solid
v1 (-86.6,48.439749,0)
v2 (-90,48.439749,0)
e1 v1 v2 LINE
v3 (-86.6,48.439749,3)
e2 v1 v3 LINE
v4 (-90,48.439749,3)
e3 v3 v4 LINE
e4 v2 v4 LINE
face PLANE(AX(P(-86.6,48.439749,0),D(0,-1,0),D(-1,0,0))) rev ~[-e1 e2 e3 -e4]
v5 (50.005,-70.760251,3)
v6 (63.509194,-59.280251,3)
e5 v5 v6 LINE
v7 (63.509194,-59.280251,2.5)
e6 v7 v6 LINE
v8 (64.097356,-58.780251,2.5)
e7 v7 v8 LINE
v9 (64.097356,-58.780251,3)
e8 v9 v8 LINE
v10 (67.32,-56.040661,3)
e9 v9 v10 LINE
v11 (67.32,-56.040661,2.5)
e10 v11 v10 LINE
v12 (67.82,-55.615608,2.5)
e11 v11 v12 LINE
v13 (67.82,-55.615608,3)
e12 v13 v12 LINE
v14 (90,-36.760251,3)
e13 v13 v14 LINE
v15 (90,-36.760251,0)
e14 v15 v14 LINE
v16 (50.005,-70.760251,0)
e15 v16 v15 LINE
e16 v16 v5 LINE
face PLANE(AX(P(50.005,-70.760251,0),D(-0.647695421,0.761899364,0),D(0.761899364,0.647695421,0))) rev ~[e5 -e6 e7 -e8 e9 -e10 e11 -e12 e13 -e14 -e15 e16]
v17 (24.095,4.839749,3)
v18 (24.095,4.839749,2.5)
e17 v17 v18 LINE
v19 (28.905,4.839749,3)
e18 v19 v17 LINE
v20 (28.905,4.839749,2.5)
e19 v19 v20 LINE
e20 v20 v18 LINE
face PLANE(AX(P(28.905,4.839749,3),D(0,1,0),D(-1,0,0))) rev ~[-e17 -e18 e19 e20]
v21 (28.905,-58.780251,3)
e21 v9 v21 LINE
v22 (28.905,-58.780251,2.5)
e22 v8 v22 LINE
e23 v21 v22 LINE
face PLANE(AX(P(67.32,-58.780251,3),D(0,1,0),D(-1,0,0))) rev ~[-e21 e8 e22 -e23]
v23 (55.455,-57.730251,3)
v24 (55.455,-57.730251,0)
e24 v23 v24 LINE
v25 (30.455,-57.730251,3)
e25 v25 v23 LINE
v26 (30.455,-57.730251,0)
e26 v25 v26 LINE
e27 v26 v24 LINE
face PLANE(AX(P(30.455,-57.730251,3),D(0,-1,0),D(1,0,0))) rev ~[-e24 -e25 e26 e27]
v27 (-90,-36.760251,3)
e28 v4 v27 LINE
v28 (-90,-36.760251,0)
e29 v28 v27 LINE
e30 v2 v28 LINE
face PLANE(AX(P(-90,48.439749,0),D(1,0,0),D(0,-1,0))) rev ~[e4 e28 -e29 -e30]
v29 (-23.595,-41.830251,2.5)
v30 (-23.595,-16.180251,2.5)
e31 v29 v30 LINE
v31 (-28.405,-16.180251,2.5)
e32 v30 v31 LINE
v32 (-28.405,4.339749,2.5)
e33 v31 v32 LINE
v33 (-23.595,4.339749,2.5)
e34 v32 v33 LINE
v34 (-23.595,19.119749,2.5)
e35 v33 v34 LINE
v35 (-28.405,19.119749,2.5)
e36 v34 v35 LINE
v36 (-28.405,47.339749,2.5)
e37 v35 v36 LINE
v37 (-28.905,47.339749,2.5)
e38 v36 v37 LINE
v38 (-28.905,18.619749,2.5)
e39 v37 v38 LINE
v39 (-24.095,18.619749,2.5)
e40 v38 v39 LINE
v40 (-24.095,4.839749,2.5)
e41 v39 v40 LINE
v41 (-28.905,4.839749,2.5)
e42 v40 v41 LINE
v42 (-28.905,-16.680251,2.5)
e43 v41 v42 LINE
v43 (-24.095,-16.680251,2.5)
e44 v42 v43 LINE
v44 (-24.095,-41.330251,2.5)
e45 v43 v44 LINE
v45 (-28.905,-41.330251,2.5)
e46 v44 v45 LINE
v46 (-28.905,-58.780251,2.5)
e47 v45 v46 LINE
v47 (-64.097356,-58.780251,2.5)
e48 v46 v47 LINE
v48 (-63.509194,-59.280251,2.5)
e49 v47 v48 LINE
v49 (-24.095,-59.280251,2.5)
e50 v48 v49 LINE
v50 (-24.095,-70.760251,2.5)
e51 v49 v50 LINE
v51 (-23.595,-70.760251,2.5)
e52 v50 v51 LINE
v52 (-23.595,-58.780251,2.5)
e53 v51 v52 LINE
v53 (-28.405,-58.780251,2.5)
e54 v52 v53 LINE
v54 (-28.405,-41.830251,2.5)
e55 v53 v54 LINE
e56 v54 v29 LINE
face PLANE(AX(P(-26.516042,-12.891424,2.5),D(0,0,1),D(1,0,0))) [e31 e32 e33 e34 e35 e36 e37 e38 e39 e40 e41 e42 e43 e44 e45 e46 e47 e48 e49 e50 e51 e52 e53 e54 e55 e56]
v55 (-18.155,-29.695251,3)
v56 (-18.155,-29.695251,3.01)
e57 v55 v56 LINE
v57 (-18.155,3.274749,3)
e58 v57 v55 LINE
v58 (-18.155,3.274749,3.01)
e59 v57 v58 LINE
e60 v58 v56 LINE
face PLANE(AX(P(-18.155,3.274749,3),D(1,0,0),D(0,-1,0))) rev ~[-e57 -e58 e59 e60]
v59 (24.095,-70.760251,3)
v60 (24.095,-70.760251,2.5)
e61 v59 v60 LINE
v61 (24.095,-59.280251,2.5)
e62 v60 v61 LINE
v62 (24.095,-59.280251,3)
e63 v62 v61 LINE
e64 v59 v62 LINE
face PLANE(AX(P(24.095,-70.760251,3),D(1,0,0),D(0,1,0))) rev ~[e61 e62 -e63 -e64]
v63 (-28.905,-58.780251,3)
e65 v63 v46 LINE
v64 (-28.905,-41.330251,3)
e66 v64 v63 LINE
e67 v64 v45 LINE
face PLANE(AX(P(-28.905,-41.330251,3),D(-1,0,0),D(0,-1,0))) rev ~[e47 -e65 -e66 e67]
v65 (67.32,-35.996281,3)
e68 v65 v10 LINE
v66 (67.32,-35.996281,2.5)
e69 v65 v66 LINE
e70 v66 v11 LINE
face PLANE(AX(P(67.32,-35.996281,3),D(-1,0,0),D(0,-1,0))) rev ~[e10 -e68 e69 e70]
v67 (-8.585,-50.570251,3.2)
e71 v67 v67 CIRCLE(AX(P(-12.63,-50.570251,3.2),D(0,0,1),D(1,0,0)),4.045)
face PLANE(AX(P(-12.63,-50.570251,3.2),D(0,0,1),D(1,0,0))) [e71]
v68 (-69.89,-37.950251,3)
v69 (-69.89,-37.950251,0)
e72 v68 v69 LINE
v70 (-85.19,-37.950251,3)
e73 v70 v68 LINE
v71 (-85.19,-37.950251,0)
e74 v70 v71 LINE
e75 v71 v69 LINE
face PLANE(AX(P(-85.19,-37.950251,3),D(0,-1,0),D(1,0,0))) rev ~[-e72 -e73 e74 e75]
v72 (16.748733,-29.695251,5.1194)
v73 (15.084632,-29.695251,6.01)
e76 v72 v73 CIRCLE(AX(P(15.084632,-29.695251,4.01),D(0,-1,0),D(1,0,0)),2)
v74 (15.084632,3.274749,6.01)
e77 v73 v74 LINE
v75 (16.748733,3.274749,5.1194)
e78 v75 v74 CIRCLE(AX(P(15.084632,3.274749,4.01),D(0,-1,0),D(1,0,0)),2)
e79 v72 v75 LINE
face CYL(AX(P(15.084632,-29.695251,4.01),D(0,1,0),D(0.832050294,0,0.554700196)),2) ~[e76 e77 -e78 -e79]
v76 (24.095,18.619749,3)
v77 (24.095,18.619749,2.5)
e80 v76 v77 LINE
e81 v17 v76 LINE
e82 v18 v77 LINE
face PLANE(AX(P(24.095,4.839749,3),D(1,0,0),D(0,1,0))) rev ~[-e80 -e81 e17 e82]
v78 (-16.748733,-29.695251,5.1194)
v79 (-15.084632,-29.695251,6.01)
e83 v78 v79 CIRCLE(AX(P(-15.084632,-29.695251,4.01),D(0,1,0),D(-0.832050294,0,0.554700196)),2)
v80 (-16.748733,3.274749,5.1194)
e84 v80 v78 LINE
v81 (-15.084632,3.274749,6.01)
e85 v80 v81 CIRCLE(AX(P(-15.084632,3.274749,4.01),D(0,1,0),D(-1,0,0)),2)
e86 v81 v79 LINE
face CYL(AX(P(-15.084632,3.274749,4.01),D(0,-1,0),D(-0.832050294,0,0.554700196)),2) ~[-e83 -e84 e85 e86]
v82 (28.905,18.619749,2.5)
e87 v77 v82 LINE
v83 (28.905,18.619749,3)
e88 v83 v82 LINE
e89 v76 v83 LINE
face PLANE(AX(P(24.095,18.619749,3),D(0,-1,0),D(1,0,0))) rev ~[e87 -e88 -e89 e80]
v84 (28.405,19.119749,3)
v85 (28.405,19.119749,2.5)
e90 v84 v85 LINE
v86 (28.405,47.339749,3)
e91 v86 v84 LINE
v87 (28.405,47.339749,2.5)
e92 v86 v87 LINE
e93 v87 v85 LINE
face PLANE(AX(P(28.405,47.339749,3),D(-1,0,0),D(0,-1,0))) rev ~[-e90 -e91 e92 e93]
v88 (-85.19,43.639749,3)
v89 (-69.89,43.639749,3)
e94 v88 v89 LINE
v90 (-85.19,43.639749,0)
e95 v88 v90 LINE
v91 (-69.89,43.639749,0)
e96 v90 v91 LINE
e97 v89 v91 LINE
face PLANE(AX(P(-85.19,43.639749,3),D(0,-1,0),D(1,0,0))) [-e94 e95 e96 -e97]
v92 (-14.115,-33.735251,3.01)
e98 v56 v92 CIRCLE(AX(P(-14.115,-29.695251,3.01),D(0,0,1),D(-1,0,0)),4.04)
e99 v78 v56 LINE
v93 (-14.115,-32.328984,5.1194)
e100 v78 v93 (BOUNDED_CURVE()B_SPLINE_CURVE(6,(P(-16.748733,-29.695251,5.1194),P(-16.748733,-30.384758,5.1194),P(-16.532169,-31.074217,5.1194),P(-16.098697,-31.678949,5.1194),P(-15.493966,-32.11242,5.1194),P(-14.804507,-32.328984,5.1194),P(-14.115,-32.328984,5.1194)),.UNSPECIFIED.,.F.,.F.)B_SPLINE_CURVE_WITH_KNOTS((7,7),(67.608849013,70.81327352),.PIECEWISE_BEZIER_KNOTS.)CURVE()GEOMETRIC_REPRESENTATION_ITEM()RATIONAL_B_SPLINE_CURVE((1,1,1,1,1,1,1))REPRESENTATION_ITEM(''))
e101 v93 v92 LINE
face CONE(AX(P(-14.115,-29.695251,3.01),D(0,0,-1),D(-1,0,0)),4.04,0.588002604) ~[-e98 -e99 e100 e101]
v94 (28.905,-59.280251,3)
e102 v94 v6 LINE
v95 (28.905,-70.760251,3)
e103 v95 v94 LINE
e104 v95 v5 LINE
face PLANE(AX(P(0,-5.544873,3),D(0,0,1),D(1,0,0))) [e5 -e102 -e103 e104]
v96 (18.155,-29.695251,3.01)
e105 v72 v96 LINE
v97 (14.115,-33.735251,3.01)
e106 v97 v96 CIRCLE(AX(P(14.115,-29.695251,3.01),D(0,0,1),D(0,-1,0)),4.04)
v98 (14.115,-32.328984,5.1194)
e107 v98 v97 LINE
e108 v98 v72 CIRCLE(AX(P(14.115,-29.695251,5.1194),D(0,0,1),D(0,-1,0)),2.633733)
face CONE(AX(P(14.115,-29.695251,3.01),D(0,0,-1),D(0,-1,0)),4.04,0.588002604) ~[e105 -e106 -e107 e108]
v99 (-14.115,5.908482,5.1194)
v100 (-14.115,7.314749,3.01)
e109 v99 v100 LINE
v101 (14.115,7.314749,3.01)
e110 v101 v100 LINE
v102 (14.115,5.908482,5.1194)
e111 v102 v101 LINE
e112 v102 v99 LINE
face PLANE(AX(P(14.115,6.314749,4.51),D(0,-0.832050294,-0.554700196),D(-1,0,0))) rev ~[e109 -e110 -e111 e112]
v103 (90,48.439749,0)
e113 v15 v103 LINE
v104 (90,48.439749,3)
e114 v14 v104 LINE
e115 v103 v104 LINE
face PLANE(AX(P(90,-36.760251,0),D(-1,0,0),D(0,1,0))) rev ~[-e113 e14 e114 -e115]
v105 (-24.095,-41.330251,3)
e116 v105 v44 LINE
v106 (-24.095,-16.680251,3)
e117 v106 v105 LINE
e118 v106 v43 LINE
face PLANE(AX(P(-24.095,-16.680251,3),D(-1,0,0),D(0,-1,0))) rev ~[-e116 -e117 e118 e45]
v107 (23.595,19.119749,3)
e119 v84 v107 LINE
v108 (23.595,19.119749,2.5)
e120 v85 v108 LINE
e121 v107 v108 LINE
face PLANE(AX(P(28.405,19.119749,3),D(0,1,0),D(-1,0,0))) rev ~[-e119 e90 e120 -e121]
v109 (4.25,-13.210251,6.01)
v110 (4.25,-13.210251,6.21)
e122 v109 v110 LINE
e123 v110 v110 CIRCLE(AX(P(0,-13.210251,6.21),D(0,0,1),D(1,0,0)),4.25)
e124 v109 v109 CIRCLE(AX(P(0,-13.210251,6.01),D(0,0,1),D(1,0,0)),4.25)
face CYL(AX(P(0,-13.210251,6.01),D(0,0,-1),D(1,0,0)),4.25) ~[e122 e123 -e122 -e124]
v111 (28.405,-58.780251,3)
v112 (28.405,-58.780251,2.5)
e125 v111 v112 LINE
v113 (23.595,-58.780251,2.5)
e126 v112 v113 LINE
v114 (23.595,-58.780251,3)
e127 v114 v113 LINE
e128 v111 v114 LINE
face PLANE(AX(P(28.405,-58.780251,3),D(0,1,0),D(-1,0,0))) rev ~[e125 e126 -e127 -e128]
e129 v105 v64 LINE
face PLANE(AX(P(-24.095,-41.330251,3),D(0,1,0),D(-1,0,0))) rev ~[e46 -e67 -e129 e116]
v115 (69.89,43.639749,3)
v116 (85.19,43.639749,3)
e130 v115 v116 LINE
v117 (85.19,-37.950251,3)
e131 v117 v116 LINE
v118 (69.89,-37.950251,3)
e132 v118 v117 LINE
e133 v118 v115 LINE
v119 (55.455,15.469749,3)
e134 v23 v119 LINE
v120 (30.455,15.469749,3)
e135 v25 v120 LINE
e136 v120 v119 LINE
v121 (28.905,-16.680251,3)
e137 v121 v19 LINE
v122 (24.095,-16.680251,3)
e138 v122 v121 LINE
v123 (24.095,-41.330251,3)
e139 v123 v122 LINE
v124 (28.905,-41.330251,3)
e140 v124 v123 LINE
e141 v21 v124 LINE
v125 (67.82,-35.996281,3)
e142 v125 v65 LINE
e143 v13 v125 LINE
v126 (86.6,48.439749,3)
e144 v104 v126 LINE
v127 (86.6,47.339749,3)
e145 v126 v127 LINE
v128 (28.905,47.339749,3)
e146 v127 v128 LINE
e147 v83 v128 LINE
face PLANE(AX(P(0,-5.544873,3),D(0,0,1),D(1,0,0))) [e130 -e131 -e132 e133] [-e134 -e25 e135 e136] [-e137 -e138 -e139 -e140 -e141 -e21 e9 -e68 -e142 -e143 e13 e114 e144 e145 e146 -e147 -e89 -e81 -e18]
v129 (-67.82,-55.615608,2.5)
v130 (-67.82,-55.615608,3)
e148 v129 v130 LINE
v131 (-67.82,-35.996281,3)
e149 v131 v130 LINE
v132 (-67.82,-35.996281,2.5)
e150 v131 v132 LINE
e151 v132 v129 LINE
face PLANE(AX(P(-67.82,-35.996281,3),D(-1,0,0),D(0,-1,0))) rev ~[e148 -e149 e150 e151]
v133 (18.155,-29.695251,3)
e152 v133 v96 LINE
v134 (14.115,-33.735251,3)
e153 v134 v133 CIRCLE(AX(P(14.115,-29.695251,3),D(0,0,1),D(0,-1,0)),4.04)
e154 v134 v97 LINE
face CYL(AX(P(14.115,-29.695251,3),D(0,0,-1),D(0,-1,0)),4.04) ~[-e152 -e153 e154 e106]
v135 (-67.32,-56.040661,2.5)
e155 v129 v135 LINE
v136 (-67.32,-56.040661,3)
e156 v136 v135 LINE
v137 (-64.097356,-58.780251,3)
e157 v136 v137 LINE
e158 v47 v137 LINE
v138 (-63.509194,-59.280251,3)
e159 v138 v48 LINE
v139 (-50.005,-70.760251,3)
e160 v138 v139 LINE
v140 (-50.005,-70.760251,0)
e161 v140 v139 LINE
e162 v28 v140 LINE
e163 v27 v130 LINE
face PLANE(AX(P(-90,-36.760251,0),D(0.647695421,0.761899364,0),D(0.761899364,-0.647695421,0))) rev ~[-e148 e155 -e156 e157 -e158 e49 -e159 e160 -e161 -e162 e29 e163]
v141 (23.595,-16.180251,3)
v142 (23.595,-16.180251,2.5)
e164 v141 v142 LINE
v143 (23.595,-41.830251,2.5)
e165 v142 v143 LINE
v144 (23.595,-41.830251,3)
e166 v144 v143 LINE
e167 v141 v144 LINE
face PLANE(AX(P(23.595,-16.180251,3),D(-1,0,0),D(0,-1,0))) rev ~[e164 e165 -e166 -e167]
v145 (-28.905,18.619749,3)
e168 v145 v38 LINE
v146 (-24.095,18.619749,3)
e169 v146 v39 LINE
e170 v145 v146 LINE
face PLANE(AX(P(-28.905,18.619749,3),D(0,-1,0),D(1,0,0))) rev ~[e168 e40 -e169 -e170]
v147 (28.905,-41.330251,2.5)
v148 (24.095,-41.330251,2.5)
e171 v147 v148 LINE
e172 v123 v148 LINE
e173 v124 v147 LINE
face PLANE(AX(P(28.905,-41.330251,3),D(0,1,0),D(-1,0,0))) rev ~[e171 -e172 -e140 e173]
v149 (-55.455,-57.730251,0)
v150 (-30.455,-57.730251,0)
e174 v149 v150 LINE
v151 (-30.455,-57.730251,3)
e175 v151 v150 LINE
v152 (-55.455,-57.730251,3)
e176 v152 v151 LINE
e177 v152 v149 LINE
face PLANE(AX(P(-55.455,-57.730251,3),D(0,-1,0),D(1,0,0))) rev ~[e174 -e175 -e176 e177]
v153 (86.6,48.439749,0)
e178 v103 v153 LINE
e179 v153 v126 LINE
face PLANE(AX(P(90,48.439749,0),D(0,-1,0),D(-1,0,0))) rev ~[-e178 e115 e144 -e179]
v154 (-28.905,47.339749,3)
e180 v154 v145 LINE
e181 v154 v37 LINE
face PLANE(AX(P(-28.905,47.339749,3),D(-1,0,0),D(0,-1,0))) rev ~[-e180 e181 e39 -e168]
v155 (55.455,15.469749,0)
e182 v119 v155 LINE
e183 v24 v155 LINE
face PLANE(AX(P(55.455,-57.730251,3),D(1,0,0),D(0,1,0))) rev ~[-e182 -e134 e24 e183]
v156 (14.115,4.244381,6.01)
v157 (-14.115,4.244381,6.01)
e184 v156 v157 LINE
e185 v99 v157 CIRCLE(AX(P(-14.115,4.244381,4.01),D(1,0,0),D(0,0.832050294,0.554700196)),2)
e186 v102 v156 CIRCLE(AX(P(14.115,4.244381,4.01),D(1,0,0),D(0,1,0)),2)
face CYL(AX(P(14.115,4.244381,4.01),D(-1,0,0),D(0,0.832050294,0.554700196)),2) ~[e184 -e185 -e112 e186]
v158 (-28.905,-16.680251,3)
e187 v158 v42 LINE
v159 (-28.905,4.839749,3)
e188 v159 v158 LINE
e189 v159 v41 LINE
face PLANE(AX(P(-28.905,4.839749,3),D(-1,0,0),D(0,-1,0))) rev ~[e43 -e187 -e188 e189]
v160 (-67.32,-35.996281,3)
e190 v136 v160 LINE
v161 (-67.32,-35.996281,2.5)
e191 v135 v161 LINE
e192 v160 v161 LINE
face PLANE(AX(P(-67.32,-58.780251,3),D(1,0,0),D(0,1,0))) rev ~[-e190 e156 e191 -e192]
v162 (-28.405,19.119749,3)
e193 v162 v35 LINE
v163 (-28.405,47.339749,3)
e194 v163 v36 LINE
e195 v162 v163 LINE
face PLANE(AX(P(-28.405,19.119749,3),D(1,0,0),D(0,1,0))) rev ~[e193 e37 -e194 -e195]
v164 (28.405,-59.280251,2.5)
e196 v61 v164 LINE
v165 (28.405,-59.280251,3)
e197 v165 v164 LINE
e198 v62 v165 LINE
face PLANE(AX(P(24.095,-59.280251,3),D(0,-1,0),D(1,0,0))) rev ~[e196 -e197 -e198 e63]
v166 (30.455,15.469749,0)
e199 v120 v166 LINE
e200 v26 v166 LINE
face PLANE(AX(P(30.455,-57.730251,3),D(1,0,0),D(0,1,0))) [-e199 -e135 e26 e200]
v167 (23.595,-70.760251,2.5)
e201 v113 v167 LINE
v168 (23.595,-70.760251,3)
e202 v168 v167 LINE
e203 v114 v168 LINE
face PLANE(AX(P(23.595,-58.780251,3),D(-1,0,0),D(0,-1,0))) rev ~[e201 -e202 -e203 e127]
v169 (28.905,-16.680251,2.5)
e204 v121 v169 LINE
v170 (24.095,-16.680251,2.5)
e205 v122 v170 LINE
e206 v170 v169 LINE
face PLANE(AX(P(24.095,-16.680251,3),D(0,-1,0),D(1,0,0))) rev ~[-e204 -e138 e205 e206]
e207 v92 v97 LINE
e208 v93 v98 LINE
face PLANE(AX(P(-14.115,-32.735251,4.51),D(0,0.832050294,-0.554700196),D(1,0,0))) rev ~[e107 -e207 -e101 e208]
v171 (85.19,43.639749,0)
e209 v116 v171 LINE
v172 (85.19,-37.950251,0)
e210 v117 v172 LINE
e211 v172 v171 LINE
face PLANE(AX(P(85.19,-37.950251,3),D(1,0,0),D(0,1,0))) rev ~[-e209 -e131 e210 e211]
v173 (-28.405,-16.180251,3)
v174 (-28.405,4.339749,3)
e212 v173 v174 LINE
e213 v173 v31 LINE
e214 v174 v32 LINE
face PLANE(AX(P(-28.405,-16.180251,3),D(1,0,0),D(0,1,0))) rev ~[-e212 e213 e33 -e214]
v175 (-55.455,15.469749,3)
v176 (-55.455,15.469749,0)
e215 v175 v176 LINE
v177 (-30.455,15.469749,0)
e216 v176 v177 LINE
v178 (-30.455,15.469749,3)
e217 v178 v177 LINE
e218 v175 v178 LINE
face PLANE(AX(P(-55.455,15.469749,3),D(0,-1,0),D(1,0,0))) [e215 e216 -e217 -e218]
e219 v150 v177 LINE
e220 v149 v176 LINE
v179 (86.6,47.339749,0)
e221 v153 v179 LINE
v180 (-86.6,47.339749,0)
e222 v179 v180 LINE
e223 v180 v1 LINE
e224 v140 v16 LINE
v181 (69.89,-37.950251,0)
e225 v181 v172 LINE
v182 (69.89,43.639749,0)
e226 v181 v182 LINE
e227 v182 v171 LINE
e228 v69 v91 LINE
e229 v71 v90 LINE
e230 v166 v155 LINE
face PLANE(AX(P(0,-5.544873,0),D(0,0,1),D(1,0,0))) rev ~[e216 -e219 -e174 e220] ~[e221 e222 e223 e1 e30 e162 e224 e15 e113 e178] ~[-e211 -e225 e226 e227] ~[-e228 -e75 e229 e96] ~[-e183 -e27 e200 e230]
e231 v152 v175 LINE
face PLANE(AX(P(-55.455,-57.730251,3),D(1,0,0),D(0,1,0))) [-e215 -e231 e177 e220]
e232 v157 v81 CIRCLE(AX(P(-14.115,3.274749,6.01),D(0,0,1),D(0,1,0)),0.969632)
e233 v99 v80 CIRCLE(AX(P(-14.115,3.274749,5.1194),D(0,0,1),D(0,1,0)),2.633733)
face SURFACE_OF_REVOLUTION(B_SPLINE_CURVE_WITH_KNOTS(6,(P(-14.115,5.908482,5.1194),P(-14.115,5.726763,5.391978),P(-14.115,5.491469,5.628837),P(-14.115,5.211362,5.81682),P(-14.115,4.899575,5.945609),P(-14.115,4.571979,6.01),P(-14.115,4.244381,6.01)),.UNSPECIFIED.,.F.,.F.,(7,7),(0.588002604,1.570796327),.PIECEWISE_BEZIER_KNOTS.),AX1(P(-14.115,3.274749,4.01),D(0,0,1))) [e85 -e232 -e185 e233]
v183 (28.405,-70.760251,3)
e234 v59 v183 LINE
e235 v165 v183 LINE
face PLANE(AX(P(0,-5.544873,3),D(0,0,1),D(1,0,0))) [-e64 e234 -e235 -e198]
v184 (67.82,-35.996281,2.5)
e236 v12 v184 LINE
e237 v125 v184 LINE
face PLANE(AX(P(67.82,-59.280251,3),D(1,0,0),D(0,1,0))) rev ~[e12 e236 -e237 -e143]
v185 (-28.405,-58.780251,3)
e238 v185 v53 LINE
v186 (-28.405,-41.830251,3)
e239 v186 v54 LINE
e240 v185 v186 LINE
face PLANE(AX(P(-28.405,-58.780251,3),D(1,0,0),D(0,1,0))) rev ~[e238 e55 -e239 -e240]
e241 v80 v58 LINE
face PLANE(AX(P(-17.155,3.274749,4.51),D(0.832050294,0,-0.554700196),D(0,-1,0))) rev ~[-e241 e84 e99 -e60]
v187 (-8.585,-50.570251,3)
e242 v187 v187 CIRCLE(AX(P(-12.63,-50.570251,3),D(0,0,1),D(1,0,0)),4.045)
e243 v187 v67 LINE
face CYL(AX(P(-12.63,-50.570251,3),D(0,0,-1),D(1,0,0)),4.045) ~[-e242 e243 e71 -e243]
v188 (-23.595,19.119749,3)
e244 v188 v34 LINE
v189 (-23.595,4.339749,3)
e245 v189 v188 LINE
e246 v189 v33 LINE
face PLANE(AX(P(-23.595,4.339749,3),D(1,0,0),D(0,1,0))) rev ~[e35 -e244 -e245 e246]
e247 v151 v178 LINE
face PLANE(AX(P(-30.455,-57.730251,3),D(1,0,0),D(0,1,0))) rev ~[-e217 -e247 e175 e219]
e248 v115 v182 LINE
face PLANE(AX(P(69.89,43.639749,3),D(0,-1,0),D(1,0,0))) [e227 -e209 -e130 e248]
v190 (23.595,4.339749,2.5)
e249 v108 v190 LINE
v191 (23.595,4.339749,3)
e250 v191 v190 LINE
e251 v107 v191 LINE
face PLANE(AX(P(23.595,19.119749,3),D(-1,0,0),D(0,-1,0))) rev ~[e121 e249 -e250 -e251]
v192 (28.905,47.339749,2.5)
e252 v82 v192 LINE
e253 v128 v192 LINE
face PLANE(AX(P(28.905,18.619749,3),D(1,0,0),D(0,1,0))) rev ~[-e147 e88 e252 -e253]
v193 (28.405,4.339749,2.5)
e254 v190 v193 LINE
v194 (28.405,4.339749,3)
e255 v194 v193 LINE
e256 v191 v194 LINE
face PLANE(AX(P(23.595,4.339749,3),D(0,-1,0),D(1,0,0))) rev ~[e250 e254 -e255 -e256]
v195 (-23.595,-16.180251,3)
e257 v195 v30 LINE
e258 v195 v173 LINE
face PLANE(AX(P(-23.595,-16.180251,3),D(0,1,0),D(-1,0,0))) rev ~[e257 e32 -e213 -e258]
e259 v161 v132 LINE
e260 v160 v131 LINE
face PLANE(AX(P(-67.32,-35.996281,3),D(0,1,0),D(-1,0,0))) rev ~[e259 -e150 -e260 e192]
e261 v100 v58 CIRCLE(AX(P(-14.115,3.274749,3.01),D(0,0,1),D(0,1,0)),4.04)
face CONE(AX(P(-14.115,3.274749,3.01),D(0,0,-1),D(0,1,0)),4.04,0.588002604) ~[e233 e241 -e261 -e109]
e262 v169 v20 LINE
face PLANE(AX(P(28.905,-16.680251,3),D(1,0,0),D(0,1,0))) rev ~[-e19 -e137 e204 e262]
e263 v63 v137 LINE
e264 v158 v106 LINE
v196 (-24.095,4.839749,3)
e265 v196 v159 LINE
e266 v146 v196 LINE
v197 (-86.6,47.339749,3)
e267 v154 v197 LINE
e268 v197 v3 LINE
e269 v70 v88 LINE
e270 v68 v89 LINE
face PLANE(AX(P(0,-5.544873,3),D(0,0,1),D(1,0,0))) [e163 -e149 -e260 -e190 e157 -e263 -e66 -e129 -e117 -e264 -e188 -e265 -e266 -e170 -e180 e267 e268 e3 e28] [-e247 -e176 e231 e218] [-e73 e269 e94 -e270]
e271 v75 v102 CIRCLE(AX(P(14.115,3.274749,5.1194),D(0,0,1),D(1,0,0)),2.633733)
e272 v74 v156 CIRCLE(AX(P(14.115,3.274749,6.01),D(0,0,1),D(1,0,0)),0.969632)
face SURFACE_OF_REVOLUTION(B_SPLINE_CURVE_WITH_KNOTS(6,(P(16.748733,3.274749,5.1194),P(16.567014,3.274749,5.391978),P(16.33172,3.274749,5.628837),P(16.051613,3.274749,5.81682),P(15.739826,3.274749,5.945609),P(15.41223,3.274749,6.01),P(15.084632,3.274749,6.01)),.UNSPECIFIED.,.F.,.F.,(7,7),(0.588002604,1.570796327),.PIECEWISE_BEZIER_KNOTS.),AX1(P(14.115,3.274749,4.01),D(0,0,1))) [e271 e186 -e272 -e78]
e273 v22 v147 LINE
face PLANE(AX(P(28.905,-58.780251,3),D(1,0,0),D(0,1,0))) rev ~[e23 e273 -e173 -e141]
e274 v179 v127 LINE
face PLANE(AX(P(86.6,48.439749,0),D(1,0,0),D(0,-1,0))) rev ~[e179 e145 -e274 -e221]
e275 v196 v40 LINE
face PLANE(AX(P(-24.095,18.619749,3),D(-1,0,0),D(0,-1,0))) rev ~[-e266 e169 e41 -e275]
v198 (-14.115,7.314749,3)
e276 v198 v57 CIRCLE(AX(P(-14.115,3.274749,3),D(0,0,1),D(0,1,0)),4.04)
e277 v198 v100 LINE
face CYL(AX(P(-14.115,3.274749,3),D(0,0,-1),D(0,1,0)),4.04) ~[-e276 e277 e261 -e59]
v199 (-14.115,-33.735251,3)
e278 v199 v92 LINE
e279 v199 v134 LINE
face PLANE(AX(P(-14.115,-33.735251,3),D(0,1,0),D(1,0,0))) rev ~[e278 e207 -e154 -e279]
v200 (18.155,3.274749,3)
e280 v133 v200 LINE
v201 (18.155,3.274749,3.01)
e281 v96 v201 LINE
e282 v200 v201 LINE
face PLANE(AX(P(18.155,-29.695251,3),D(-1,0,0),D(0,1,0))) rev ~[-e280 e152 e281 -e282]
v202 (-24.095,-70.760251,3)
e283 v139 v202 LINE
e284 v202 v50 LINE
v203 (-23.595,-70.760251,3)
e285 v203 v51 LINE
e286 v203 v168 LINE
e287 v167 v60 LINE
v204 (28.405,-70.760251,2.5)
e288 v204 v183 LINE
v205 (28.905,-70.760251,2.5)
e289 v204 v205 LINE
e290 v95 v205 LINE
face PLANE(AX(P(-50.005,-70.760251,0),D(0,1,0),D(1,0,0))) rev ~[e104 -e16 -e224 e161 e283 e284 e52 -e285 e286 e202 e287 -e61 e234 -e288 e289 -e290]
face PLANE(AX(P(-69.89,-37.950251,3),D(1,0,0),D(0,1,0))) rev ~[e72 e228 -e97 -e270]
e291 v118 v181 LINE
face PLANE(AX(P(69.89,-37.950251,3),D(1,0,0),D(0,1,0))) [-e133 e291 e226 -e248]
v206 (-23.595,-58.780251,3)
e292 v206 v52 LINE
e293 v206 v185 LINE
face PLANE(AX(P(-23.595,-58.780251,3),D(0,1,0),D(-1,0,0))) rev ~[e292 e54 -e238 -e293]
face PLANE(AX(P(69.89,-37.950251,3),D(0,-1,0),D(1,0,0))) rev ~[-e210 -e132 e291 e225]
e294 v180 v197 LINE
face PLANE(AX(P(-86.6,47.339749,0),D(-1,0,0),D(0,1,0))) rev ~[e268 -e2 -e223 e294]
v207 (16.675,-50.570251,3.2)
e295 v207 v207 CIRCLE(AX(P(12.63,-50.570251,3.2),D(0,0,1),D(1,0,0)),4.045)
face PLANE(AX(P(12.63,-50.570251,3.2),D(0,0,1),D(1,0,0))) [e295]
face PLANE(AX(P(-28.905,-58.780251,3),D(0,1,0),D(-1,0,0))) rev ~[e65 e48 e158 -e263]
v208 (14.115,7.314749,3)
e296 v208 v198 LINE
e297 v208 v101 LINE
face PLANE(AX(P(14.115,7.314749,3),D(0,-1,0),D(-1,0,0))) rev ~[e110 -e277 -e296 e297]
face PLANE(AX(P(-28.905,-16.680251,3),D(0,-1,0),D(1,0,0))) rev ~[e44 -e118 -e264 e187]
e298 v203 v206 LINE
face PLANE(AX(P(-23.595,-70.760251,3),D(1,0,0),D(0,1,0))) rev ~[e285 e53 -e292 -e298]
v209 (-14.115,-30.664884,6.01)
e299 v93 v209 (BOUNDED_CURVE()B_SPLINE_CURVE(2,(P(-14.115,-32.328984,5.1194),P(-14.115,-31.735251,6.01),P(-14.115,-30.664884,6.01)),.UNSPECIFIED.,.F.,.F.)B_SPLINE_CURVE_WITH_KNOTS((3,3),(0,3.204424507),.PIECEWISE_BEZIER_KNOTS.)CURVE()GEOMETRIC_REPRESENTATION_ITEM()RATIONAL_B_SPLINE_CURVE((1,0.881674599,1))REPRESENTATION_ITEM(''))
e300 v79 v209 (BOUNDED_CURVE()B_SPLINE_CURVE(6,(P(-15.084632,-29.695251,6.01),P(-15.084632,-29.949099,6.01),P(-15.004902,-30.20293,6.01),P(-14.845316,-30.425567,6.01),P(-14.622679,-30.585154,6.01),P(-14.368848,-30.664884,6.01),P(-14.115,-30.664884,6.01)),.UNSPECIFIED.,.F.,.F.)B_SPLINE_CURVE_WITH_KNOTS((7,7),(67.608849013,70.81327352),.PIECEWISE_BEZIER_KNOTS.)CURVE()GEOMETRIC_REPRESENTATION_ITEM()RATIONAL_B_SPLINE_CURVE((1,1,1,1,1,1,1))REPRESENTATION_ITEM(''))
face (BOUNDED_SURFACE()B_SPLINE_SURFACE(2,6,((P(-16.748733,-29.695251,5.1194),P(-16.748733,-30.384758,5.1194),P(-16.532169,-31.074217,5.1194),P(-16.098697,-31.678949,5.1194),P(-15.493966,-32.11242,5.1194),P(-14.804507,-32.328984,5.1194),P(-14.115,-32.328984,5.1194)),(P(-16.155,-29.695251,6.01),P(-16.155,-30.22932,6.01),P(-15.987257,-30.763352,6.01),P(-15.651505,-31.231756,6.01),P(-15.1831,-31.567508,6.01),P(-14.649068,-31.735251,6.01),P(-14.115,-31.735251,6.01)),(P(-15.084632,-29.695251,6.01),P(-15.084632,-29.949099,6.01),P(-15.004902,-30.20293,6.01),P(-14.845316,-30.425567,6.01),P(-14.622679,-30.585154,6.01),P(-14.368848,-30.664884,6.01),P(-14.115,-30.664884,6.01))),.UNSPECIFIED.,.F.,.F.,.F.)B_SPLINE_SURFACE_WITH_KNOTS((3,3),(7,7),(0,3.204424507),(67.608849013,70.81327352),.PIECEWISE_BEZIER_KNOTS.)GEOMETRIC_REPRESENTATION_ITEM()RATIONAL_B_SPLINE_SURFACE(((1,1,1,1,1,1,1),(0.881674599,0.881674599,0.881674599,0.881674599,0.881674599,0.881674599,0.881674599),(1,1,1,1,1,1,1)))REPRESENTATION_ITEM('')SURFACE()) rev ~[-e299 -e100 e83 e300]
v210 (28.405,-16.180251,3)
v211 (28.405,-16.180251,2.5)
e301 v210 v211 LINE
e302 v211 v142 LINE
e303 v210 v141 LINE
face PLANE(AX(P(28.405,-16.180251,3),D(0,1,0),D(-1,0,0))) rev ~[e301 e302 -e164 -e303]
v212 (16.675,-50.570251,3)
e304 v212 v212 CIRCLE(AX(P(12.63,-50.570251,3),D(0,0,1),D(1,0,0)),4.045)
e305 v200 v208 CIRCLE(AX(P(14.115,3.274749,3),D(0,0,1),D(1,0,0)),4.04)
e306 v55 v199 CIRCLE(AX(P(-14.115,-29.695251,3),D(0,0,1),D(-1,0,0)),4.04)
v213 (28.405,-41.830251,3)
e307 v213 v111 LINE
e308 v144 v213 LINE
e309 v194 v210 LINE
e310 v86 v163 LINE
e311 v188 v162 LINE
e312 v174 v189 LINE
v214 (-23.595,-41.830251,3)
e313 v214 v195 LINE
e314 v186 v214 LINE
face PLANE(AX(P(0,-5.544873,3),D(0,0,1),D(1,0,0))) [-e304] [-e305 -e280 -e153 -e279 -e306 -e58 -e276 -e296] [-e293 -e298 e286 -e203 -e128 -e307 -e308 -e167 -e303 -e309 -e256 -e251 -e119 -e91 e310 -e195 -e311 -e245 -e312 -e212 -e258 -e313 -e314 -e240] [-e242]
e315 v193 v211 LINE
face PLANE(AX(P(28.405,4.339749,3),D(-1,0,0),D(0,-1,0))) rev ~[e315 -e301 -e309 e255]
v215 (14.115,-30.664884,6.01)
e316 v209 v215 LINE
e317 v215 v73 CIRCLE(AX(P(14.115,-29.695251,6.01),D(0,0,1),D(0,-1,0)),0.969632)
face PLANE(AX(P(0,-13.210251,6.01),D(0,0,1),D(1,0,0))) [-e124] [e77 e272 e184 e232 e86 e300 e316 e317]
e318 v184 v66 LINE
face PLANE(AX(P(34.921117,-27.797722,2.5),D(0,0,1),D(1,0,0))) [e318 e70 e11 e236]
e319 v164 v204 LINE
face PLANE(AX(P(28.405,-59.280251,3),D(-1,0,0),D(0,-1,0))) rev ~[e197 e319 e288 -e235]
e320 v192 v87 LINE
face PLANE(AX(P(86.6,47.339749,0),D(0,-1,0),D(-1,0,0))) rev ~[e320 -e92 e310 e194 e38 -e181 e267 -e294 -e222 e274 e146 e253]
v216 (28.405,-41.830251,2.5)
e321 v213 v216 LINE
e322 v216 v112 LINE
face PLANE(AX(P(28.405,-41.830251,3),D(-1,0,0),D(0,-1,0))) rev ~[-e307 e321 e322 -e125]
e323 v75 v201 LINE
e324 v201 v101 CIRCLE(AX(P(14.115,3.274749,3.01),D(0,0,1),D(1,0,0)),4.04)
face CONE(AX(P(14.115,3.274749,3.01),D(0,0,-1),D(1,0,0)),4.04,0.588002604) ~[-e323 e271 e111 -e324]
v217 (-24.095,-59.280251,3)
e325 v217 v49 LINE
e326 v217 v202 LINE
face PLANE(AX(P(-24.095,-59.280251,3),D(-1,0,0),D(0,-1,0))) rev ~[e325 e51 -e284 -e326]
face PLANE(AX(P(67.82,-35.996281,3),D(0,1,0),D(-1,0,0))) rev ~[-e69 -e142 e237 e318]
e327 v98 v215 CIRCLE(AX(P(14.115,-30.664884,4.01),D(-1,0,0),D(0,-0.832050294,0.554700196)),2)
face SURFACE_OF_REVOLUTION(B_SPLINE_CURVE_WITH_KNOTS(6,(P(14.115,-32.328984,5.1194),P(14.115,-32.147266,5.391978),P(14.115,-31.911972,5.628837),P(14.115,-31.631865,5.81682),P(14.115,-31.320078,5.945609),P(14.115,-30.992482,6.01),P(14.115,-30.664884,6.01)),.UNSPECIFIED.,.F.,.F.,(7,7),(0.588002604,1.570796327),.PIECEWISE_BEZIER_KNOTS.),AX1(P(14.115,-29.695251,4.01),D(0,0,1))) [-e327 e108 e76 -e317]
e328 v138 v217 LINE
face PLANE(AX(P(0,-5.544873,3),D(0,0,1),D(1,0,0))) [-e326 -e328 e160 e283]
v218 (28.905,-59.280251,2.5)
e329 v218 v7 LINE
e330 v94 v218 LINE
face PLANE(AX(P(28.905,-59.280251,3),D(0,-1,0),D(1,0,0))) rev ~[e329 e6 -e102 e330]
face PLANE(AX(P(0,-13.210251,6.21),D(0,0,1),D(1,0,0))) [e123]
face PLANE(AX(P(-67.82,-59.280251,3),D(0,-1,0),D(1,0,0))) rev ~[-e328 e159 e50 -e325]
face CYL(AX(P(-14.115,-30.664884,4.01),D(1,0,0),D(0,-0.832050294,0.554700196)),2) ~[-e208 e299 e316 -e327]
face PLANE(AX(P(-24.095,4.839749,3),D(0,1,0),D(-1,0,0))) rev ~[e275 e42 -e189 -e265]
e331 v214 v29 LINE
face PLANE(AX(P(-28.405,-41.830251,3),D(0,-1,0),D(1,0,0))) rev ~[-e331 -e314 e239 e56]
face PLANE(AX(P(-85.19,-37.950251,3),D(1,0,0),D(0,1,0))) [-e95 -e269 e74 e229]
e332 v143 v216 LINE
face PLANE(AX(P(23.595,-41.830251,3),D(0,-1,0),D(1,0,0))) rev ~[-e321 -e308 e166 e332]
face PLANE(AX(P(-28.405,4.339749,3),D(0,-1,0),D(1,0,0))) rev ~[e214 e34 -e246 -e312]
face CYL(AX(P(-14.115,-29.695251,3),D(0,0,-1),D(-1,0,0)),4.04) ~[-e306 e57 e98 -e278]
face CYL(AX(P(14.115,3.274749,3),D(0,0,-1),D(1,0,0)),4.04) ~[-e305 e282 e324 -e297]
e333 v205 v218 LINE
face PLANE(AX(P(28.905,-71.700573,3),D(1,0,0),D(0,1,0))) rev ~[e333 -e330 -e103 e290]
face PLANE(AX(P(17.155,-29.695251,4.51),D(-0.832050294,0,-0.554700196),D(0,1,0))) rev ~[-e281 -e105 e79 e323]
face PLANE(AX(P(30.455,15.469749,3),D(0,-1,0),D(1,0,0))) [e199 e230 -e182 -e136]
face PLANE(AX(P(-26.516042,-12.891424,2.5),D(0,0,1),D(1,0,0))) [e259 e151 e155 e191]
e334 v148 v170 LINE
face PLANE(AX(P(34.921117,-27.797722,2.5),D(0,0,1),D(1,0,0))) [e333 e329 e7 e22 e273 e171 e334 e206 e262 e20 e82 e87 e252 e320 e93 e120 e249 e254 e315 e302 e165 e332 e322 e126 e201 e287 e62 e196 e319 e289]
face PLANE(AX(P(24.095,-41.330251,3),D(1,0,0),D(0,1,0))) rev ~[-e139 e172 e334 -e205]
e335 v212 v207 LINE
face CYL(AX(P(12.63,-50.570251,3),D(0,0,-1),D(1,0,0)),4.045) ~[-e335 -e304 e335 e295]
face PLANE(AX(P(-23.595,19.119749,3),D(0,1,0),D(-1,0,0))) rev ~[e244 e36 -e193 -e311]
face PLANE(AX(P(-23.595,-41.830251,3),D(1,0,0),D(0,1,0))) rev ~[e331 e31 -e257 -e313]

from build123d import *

# Parameters (mm, degrees)
F1_DEPTH  = 3
F3_DEPTH  = 0.5
F5_DEPTH  = 3.01
F6_SIZE2  = 3
F6_SIZE   = 2
F7_R      = 2
F8_R      = 4.25
F9_DEPTH  = 0.2
F10_R     = 4.045
F11_DEPTH = 0.2
F12_W     = 15.3
F12_H     = 81.59
F12_W_2   = 25
F12_H_2   = 73.2
F13_DEPTH = 25


with BuildPart() as f1:
    # F0 (on Top) → F1 (new body)
    with BuildSketch(Plane.XY):
        Polygon((-86.6, 48.4397485852), (-90, 48.4397485852), (-90, -36.7602514148), (-50.005, -70.7602514148), (50.005, -70.7602514148), (90, -36.7602514148), (90, 48.4397485852), (86.6, 48.4397485852), (86.6, 47.3397485852), (-86.6, 47.3397485852), align=None)
    extrude(amount=F1_DEPTH)

    # F2 (on face) → F3 (cut)
    with BuildSketch(Plane.XY.offset(3)):
        Polygon((28.905, 18.6197485852), (28.905, 47.3397485852), (28.405, 47.3397485852), (28.405, 19.1197485852), (23.595, 19.1197485852), (23.595, 4.3397485852), (28.405, 4.3397485852), (28.405, -16.1802514148), (23.595, -16.1802514148), (23.595, -41.8302514148), (28.405, -41.8302514148), (28.405, -58.7802514148), (23.595, -58.7802514148), (23.595, -70.7602514148), (24.095, -70.7602514148), (24.095, -59.2802514148), (28.405, -59.2802514148), (28.405, -71.6557353735), (28.905, -71.7005729675), (28.905, -59.2802514148), (67.82, -59.2802514148), (67.82, -35.9962806106), (67.32, -35.9962806106), (67.32, -58.7802514148), (28.905, -58.7802514148), (28.905, -41.3302514148), (24.095, -41.3302514148), (24.095, -16.6802514148), (28.905, -16.6802514148), (28.905, 4.8397485852), (24.095, 4.8397485852), (24.095, 18.6197485852), align=None)
        Polygon((-28.405, 19.1197485852), (-28.405, 47.3397485852), (-28.905, 47.3397485852), (-28.905, 18.6197485852), (-24.095, 18.6197485852), (-24.095, 4.8397485852), (-28.905, 4.8397485852), (-28.905, -16.6802514148), (-24.095, -16.6802514148), (-24.095, -41.3302514148), (-28.905, -41.3302514148), (-28.905, -58.7802514148), (-28.905, -59.2802514148), (-28.405, -59.2802514148), (-24.095, -59.2802514148), (-24.095, -70.7602514148), (-23.595, -70.7602514148), (-23.595, -58.7802514148), (-28.405, -58.7802514148), (-28.405, -41.8302514148), (-23.595, -41.8302514148), (-23.595, -16.1802514148), (-28.405, -16.1802514148), (-28.405, 4.3397485852), (-23.595, 4.3397485852), (-23.595, 19.1197485852), align=None)
        Polygon((-28.905, -59.2802514148), (-28.905, -58.7802514148), (-67.32, -58.7802514148), (-67.32, -35.9962806106), (-67.82, -35.9962806106), (-67.82, -59.2802514148), align=None)
    extrude(amount=-F3_DEPTH, mode=Mode.SUBTRACT)

    # F4 (on face) → F5 (join)
    with BuildSketch(Plane.XY.offset(3)):
        with BuildLine():
            Line((14.115, 7.3147485852), (-14.115, 7.3147485852))
            ThreePointArc((-14.115, 7.3147485852), (-16.971711396, 6.1314599812), (-18.155, 3.2747485852))
            Line((-18.155, 3.2747485852), (-18.155, -29.6952514148))
            ThreePointArc((-18.155, -29.6952514148), (-16.971711396, -32.5519628108), (-14.115, -33.7352514148))
            Line((-14.115, -33.7352514148), (14.115, -33.7352514148))
            ThreePointArc((14.115, -33.7352514148), (16.971711396, -32.5519628108), (18.155, -29.6952514148))
            Line((18.155, -29.6952514148), (18.155, 3.2747485852))
            ThreePointArc((18.155, 3.2747485852), (16.971711396, 6.1314599812), (14.115, 7.3147485852))
        make_face()
    extrude(amount=F5_DEPTH)

    # F6
    f6_edges = [f1.edges().sort_by_distance(p)[0] for p in [
        (-18.155, -13.210251, 6.01),
    ]]
    f6_side = f1.faces().sort_by_distance((0, -13.210251, 6.01))[0]
    chamfer(f6_edges, length=F6_SIZE, length2=F6_SIZE2, reference=f6_side)

    # F7
    f7_edges = [f1.edges().sort_by_distance(p)[0] for p in [
        (15.557498, 4.717246, 6.01),
    ]]
    fillet(f7_edges, radius=F7_R)

    # F8 (on face) → F9 (join)
    with BuildSketch(Plane.XY.offset(6.01)):
        with Locations((0, -13.2102514148)):
            Circle(F8_R)
    extrude(amount=F9_DEPTH)

    # F10 (on face) → F11 (join)
    with BuildSketch(Plane.XY.offset(3)):
        with Locations((-12.63, -50.5702514148)):
            Circle(F10_R)
        with Locations((12.63, -50.5702514148)):
            Circle(F10_R)
    extrude(amount=F11_DEPTH)

    # F12 (on face) → F13 (cut)
    with BuildSketch(Plane.XY.offset(3)):
        with Locations((-77.54, 2.8447485852)):
            Rectangle(F12_W, F12_H)
        with Locations((77.54, 2.8447485852)):
            Rectangle(F12_W, F12_H)
        with Locations((-42.955, -21.1302514148)):
            Rectangle(F12_W_2, F12_H_2)
        with Locations((42.955, -21.1302514148)):
            Rectangle(F12_W_2, F12_H_2)
    extrude(amount=-F13_DEPTH, mode=Mode.SUBTRACT)


solid = f1.part
